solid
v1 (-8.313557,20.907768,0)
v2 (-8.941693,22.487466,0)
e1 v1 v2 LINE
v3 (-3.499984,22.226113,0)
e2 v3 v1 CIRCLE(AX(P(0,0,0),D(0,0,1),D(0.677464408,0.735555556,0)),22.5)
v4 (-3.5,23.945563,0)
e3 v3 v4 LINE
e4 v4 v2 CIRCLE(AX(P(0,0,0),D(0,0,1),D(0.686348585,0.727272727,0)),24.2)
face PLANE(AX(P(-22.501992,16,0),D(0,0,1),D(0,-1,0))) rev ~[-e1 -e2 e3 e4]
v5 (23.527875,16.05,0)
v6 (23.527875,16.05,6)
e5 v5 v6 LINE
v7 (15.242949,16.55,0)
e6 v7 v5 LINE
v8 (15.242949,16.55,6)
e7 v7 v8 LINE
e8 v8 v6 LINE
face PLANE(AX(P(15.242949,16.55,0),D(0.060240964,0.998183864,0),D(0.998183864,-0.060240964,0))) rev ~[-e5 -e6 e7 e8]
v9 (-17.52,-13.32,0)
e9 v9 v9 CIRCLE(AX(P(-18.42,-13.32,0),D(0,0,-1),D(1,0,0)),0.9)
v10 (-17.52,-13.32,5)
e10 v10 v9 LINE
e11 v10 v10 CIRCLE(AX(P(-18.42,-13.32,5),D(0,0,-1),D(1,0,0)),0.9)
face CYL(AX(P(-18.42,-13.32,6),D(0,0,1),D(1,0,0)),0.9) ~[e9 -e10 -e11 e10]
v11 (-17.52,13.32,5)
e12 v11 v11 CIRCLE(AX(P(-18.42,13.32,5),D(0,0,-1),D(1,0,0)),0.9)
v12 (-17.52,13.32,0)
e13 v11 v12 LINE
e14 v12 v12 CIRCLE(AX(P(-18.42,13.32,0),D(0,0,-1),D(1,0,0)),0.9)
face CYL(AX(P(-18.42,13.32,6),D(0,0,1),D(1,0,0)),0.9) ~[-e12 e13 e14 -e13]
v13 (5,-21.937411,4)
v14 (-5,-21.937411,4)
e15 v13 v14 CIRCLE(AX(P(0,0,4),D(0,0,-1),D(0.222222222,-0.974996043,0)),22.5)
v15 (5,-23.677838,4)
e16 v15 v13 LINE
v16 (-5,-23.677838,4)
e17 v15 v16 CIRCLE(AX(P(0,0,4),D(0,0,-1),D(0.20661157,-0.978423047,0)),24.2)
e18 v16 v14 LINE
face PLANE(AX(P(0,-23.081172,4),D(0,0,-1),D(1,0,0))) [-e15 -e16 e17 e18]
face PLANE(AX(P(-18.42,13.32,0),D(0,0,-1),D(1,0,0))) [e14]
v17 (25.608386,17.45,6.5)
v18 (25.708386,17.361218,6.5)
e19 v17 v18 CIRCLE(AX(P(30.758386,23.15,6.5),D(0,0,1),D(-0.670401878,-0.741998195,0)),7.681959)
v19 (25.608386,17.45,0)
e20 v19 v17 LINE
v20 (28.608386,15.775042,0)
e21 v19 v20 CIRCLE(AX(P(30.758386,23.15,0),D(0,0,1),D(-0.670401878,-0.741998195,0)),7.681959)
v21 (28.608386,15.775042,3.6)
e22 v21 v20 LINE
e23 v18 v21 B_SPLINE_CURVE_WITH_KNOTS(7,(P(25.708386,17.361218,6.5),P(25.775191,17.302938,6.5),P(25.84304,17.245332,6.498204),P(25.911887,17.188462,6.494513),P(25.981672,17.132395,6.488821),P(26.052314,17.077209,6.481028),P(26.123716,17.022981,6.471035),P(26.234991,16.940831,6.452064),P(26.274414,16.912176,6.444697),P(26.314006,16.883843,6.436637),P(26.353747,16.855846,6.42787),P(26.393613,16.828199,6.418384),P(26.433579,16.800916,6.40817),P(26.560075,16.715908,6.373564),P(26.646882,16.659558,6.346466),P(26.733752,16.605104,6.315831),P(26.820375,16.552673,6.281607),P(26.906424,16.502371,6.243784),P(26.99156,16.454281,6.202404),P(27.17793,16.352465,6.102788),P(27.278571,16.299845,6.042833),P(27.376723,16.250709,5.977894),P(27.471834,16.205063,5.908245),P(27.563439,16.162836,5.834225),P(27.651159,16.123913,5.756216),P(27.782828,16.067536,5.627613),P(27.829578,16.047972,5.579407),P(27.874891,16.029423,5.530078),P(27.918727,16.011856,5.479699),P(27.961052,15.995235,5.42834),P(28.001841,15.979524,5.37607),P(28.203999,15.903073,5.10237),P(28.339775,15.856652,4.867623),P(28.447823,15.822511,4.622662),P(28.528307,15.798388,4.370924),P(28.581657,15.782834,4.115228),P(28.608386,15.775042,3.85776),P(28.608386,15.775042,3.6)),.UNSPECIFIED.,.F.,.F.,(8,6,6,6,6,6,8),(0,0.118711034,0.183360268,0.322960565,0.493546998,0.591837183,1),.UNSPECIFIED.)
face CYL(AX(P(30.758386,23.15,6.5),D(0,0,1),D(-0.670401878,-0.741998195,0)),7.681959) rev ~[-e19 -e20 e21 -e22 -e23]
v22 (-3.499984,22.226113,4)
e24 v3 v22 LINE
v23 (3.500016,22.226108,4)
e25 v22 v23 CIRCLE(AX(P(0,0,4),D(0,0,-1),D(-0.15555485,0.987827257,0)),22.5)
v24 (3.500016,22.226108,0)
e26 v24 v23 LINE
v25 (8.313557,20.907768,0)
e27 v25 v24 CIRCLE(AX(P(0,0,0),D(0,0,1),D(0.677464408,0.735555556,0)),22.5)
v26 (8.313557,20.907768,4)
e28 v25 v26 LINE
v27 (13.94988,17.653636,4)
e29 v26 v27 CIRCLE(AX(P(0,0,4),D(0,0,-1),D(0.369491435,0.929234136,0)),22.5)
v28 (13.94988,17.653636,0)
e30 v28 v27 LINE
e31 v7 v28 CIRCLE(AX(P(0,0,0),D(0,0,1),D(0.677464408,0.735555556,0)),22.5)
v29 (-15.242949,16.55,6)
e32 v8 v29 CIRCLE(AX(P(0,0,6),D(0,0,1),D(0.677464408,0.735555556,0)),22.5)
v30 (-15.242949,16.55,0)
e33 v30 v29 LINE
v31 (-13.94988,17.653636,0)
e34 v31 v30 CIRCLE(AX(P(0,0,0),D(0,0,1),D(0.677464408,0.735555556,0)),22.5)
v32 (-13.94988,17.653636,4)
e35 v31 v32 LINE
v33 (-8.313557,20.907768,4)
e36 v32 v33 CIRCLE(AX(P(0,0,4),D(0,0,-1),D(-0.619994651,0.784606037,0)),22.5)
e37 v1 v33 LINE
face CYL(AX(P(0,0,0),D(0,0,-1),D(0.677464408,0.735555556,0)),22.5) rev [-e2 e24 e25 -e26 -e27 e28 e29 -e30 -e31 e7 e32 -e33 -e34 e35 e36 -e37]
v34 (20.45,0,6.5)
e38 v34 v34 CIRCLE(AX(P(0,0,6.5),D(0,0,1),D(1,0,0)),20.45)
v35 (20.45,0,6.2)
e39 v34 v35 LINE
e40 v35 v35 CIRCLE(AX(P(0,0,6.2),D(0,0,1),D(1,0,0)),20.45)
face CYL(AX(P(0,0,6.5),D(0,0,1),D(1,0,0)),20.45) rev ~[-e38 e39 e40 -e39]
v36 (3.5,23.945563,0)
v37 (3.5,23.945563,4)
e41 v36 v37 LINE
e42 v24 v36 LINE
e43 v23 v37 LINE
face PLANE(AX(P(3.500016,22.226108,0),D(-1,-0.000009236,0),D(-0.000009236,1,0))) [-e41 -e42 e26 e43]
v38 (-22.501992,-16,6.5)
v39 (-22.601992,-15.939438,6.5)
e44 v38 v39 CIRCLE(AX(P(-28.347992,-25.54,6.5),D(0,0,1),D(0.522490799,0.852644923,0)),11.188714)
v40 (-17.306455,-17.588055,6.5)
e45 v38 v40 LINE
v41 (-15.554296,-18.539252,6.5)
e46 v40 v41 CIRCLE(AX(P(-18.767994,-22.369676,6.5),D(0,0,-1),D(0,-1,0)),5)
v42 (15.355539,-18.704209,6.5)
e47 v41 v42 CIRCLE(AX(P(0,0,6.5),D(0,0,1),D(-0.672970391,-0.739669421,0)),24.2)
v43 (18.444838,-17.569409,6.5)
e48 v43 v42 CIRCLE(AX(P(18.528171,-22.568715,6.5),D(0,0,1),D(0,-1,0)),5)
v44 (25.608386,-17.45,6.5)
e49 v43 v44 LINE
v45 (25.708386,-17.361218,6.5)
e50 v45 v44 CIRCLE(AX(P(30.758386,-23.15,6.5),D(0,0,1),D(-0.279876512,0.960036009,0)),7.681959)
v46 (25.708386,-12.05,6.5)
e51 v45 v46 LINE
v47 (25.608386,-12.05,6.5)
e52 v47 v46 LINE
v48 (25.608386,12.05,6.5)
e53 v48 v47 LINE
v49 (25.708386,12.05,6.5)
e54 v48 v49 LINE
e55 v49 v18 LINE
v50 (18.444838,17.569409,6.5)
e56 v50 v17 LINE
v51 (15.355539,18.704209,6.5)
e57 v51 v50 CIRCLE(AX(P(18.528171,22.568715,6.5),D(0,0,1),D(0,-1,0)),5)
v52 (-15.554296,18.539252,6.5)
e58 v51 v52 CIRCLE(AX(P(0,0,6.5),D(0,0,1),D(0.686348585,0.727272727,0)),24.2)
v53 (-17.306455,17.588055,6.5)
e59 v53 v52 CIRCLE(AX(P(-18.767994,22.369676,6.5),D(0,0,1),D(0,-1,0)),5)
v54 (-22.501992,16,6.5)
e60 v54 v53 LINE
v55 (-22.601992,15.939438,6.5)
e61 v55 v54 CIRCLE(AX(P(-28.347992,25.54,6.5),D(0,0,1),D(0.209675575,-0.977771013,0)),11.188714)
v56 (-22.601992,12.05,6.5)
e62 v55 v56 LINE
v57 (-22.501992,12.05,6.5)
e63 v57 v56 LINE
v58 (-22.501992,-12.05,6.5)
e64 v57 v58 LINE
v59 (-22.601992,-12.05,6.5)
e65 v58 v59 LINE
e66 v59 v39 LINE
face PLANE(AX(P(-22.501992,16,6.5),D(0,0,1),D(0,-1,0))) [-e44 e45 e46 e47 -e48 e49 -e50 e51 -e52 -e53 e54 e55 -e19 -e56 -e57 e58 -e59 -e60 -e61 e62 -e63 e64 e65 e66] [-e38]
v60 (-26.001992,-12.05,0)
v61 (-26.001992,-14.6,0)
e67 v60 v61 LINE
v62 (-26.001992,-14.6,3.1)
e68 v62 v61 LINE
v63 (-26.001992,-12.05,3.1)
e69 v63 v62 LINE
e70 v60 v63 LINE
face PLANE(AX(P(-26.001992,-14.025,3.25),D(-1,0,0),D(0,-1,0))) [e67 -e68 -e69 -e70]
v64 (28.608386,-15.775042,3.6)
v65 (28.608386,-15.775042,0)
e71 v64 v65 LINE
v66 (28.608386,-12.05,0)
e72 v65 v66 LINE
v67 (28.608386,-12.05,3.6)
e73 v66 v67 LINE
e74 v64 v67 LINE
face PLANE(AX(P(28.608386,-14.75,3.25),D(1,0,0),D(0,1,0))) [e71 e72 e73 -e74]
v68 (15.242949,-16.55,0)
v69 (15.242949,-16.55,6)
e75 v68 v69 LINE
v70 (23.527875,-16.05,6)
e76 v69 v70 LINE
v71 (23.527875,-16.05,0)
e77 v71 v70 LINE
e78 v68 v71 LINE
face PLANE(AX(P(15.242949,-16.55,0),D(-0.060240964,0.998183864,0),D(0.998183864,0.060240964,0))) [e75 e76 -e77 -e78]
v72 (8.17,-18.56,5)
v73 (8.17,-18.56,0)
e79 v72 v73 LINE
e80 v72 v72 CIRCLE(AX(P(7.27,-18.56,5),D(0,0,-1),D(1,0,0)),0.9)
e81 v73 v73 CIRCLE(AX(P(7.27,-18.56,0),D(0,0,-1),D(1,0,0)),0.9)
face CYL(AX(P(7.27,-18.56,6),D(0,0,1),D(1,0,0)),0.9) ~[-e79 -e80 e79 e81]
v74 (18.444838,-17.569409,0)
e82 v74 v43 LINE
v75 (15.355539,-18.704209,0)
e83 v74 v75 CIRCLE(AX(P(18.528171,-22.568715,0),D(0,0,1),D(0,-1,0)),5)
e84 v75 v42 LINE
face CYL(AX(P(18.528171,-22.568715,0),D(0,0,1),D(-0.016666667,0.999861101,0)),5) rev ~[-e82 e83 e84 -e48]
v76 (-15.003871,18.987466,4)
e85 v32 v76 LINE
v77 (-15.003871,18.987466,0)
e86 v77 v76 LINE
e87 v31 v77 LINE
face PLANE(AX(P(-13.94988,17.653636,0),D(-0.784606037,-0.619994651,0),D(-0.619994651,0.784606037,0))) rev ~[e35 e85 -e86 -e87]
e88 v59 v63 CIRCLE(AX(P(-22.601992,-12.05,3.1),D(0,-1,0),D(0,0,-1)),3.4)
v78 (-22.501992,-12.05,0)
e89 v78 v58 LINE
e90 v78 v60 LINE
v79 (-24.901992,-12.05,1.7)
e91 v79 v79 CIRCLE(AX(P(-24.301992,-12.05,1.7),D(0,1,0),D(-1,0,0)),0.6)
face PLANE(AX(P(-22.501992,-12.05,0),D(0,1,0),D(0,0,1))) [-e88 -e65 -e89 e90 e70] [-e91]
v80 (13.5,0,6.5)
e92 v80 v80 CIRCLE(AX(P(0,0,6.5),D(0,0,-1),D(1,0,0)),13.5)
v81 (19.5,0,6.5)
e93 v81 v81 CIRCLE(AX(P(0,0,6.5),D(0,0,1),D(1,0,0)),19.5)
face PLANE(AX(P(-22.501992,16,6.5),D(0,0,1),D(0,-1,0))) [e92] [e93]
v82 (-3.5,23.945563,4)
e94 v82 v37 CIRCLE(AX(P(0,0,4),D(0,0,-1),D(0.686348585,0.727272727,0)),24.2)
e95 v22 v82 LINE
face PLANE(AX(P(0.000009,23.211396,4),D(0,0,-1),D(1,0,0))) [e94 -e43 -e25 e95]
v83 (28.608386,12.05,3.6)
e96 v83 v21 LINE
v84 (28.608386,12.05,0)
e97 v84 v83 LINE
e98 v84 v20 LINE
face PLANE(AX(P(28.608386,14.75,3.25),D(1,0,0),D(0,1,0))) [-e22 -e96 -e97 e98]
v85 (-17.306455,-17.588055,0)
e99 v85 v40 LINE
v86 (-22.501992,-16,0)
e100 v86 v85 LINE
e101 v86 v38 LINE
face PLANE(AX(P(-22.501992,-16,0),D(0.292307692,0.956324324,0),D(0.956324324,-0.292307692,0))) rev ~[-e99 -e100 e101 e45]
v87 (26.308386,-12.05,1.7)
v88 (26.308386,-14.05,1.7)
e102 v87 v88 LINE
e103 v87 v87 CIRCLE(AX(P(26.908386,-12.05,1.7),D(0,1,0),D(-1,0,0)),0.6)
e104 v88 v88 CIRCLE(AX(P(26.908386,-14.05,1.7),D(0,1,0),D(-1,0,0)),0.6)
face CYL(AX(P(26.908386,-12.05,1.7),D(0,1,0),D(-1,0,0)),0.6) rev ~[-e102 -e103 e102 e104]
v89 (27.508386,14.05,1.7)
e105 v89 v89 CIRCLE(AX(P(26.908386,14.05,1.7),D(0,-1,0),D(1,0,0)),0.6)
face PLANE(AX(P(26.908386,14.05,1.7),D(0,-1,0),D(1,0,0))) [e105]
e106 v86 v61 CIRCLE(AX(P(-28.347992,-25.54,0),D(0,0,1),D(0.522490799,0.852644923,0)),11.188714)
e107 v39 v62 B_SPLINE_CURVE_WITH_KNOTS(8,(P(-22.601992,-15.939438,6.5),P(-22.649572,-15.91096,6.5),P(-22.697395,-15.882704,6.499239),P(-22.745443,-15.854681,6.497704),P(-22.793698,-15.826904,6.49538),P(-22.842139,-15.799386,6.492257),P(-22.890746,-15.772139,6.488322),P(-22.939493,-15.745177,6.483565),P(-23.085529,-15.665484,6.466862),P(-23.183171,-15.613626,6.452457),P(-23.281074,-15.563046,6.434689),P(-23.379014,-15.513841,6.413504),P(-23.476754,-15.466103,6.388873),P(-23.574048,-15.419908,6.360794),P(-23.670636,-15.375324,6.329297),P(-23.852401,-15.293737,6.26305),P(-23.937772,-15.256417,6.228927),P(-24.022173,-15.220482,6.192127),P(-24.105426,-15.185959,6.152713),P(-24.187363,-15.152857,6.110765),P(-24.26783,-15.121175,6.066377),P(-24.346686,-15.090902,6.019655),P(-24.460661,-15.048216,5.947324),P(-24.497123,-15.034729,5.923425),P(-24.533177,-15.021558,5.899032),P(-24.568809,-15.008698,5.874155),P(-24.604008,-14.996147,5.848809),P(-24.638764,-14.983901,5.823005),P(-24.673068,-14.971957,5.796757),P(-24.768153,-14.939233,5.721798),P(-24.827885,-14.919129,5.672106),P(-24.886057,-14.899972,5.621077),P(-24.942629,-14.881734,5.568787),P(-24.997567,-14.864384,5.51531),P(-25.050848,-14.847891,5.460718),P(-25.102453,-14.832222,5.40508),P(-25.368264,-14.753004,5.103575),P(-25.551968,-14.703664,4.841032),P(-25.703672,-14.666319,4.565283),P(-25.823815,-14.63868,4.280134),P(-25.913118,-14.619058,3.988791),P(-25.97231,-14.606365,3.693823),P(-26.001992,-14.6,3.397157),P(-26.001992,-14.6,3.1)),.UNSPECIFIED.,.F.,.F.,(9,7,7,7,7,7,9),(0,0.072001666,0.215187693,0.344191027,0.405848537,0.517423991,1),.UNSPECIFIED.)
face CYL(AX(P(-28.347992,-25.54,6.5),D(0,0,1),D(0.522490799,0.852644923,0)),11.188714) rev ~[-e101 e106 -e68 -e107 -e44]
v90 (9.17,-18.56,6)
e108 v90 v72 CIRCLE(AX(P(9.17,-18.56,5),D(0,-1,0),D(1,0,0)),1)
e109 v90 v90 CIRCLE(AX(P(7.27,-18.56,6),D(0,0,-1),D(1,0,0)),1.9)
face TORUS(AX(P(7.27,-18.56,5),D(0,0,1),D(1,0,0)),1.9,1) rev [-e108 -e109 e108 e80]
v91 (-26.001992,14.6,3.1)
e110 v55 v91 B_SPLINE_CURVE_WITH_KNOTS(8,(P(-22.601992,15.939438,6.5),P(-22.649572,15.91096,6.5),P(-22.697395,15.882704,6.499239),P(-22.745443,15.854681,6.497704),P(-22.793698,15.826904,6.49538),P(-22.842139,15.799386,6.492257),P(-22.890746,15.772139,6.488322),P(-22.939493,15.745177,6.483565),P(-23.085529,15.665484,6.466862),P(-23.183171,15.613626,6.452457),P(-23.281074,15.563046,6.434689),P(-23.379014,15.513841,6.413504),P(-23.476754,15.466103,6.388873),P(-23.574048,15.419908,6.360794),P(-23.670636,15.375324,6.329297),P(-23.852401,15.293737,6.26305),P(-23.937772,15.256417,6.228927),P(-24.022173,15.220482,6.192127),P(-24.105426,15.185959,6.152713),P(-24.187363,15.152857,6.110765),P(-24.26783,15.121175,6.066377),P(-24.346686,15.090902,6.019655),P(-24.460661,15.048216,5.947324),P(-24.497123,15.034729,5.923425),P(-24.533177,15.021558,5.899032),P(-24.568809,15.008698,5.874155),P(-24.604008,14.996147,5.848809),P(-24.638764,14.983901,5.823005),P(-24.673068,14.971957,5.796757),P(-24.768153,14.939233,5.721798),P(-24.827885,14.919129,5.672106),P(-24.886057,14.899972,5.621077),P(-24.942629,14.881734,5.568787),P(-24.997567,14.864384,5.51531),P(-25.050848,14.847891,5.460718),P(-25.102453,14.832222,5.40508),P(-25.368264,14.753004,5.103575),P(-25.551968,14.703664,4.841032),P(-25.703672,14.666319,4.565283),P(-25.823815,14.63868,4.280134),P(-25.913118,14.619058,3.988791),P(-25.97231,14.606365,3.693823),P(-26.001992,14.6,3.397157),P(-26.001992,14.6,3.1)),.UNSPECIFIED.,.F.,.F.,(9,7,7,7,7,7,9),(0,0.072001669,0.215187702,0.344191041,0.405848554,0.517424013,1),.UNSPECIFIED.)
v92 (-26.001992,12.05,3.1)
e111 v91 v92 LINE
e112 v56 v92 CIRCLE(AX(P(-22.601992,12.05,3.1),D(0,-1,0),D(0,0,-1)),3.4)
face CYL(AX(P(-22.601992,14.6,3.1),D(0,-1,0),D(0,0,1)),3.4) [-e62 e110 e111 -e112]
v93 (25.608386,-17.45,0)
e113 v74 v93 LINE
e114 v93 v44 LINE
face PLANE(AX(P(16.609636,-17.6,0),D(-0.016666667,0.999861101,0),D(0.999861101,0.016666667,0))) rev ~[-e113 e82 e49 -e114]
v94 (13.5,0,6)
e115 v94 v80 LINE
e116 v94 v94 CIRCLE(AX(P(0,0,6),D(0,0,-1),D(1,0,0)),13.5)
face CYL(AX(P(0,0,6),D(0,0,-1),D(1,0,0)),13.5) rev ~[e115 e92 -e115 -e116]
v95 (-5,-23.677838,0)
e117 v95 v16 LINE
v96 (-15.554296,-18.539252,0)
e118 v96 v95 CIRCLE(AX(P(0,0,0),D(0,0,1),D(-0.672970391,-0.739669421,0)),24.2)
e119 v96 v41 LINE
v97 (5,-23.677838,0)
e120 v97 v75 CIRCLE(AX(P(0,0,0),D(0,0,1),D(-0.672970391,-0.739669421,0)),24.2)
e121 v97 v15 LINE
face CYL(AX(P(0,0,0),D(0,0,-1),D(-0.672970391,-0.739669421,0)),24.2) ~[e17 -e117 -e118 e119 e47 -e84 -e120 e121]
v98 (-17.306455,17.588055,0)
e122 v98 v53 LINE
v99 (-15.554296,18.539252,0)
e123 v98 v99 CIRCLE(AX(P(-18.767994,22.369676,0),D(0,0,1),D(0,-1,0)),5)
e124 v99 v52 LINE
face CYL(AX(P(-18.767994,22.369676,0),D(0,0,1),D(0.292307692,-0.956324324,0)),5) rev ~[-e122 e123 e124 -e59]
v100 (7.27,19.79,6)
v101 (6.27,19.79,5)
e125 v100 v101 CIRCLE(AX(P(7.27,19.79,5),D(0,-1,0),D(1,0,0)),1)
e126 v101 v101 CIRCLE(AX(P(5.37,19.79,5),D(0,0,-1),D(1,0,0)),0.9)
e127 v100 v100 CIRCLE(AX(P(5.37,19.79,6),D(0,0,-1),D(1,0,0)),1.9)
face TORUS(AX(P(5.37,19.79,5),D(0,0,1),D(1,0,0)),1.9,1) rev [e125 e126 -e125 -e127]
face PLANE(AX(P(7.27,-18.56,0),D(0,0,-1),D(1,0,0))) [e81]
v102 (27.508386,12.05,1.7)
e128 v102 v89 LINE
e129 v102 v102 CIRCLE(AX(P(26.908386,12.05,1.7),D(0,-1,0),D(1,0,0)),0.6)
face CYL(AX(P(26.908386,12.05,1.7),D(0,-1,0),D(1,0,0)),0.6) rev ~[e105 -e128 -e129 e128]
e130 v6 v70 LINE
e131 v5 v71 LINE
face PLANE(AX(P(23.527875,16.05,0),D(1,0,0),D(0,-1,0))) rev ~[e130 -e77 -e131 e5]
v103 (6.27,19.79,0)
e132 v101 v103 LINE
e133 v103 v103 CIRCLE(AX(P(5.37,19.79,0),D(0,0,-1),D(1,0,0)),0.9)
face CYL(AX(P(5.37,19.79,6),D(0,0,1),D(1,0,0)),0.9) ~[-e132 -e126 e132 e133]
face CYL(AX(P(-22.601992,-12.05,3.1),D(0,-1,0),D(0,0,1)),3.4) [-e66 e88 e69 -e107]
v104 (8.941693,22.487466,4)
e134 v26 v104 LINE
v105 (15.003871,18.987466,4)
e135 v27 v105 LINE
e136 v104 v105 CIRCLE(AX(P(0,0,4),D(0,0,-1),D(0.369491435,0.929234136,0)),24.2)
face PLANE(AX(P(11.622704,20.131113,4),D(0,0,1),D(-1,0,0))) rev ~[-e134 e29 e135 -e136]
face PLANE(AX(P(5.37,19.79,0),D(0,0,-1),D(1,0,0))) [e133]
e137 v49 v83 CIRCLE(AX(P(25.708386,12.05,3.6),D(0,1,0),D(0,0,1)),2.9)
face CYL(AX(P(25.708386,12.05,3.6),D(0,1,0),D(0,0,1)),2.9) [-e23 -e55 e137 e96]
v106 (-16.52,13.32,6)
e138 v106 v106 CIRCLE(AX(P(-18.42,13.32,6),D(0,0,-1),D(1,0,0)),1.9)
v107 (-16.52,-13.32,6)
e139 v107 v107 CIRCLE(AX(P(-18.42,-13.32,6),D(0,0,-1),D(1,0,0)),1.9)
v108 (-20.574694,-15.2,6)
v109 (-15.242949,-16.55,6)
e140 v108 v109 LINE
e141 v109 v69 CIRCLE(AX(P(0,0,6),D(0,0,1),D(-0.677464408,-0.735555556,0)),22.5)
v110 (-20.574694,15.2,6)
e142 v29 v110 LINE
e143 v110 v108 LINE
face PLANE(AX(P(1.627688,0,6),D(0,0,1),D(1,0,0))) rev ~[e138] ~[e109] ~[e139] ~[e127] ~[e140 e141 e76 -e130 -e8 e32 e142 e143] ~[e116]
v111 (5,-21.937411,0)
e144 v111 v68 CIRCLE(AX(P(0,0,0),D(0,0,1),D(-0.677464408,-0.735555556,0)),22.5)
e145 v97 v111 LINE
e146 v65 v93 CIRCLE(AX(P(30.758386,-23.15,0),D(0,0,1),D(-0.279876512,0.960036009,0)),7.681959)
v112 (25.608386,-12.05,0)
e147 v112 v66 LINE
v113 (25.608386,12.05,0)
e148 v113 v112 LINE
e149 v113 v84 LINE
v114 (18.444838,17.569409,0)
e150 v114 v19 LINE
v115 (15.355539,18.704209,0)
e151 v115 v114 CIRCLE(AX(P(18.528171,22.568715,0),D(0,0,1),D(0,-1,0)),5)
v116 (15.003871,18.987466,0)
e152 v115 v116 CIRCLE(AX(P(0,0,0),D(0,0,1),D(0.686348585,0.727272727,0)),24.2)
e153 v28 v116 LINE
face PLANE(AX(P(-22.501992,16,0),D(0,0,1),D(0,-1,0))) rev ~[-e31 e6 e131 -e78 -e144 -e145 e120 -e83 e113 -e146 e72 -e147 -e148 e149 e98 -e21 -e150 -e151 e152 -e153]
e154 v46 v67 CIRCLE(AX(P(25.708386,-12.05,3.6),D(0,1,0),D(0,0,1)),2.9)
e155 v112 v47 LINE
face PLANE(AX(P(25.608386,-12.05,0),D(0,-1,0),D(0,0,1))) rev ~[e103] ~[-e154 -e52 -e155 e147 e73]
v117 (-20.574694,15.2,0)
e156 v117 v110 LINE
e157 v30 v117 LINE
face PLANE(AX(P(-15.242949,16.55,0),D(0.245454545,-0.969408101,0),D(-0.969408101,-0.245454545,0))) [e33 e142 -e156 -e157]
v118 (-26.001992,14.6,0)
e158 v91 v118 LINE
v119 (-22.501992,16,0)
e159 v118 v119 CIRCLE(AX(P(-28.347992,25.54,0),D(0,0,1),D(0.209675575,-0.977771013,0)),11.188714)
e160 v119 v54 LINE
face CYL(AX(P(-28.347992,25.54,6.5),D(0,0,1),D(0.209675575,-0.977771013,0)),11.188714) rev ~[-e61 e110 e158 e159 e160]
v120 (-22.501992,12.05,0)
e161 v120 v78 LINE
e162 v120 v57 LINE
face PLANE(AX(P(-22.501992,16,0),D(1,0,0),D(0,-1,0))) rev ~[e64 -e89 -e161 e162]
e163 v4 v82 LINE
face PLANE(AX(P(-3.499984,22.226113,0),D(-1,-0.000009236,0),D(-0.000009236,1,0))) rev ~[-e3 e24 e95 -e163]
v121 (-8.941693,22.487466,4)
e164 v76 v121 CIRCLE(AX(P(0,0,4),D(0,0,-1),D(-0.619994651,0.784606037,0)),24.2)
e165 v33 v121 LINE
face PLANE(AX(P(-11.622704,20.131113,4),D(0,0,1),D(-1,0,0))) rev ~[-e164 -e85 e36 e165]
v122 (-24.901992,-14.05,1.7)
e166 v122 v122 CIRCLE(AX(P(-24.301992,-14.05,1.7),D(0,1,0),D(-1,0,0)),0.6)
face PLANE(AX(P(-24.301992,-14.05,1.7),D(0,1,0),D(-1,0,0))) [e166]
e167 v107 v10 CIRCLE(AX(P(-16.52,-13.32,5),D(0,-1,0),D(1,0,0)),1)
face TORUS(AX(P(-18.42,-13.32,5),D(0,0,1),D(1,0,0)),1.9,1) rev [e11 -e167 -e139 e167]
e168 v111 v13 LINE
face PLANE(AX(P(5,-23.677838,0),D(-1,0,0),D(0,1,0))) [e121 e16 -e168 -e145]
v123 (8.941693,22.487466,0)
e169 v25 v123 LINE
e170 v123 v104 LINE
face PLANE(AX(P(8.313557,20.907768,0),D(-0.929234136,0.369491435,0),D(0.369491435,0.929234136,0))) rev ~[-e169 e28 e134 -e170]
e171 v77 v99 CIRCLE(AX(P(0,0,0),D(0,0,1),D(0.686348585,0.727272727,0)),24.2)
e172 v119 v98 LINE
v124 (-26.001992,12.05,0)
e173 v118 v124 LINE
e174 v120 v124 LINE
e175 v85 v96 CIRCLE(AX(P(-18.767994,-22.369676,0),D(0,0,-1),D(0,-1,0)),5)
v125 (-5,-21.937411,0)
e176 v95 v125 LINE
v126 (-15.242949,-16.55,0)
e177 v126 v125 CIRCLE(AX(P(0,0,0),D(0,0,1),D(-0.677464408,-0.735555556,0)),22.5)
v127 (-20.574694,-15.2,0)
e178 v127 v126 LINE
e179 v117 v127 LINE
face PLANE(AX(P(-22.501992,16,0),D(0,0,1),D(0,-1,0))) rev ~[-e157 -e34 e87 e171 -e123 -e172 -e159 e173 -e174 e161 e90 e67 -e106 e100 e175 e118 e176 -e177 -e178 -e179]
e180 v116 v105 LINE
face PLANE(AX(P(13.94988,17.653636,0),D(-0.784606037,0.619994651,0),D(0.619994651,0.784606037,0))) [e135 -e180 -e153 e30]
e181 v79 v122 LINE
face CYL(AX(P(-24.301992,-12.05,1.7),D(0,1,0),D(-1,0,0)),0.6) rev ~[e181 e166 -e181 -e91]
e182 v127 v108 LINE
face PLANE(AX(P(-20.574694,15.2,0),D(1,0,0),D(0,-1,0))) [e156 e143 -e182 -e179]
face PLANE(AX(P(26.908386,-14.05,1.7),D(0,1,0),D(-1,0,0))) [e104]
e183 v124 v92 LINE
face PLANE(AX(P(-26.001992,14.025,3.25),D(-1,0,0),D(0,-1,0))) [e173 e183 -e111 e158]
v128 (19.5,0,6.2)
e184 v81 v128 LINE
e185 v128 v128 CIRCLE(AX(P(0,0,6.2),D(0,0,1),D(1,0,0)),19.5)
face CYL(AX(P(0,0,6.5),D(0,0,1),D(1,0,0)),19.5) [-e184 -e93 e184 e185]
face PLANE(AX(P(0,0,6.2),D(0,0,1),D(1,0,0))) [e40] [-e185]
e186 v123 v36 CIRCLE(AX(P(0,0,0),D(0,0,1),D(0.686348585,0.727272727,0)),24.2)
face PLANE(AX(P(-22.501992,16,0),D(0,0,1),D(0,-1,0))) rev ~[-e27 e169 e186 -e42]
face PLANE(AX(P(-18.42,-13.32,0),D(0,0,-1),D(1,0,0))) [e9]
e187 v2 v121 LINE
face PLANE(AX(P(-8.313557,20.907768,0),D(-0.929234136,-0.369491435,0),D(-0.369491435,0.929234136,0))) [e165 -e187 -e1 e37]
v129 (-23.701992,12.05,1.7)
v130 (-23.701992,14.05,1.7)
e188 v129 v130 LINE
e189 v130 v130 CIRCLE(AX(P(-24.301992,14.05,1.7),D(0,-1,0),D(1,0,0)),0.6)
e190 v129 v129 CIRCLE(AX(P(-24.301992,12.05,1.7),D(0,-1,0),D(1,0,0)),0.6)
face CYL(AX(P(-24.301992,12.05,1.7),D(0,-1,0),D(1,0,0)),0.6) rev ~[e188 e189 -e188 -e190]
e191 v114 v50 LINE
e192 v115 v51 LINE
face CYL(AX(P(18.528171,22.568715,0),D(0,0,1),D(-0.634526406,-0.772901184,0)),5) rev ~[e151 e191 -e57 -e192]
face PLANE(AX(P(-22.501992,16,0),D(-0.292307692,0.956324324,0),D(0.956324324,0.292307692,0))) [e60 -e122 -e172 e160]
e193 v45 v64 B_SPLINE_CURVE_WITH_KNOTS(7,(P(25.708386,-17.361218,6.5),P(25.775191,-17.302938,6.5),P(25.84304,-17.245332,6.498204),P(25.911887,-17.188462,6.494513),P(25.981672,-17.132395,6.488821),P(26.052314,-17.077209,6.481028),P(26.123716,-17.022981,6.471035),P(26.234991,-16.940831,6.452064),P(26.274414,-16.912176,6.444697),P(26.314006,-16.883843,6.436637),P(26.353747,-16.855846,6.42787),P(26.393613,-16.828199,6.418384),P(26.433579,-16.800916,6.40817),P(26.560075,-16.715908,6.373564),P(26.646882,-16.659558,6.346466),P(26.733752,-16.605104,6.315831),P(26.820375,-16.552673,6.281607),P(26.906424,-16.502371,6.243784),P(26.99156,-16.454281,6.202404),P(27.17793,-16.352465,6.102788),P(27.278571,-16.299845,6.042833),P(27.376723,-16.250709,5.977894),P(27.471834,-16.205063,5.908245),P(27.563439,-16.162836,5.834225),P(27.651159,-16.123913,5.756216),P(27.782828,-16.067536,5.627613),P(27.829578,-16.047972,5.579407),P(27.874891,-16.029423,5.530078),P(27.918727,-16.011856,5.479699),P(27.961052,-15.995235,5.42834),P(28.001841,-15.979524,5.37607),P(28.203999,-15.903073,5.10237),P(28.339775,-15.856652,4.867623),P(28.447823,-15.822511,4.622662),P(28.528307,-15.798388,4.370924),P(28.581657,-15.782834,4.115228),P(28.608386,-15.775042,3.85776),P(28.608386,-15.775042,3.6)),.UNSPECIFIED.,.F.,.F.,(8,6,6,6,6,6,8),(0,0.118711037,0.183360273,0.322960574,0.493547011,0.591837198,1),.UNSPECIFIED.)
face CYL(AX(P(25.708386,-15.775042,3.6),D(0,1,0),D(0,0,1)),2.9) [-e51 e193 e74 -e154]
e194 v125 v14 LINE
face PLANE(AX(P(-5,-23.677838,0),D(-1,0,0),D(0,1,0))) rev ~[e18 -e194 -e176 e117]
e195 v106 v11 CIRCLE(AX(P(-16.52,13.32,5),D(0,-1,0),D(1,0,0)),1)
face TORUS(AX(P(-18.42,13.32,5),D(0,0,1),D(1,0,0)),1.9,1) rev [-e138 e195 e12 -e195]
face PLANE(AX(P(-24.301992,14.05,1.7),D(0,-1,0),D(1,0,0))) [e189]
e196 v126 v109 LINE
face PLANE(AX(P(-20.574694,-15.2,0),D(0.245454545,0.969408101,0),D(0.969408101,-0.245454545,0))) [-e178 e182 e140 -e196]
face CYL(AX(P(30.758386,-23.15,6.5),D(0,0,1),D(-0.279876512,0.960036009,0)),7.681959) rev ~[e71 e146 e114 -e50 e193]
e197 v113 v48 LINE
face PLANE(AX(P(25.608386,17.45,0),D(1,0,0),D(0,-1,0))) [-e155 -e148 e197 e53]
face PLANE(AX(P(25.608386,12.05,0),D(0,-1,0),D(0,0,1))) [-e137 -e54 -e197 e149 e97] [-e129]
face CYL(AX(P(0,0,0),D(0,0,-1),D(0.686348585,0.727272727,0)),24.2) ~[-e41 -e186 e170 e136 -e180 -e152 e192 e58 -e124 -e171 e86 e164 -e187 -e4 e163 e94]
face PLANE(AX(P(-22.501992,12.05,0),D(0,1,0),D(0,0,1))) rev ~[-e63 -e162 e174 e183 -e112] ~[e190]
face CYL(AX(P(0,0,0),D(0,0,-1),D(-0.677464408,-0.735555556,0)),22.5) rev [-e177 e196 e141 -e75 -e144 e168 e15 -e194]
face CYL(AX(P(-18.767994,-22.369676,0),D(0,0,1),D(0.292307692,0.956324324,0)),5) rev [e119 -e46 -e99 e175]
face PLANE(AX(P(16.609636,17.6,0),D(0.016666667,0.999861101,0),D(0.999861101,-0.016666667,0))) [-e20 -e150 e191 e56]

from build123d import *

# Parameters (mm, degrees)
PAD_DEPTH       = 6.5
POCKET_DEPTH    = 6
SKETCH002_R     = 13.5
POCKET001_DEPTH = 1
SKETCH003_W     = 5.4
SKETCH003_H     = 6.5
PAD001_DEPTH    = 3
POCKET002_DEPTH = 10
SKETCH008_R     = 0.6
POCKET003_DEPTH = 2
SKETCH009_R     = 0.6
POCKET004_DEPTH = 2
FILLET_R        = 2.9
FILLET001_R     = 2.9
FILLET002_R     = 5
FILLET003_R     = 5
FILLET004_R     = 5
FILLET005_R     = 5
SKETCH010_W     = 3.95
SKETCH010_H     = 6.5
PAD002_DEPTH    = 3.5
POCKET005_DEPTH = 10
SKETCH012_R     = 0.6
POCKET006_DEPTH = 2
SKETCH013_R     = 0.6
POCKET007_DEPTH = 2
FILLET006_R     = 3.4
FILLET007_R     = 3.4
SKETCH014_R     = 20.45
SKETCH014_R_2   = 19.5
POCKET008_DEPTH = 0.3
SKETCH015_R     = 0.9
PAD003_DEPTH    = 6
FILLET008_R     = 1
POCKET009_DEPTH = 4
POCKET010_DEPTH = 4


with BuildPart() as part:
    # Sketch → Pad (new body)
    with BuildSketch(Plane.XY):
        with BuildLine():
            Line((-22.5019915649, 16), (-22.5019915649, -16))
            Line((-22.5019915649, -16), (-16.2858834578, -17.9))
            ThreePointArc((-16.2858834578, -17.9), (0.2206895736, -24.1989937004), (16.6096357576, -17.6))
            Line((16.6096357576, -17.6), (25.6083856708, -17.45))
            Line((25.6083856708, 17.45), (25.6083856708, -17.45))
            Line((16.6096357576, 17.6), (25.6083856708, 17.45))
            ThreePointArc((16.6096357576, 17.6), (0.2206895736, 24.1989937004), (-16.2858834578, 17.9))
            Line((-22.5019915649, 16), (-16.2858834578, 17.9))
        make_face()
    extrude(amount=PAD_DEPTH)

    # Sketch001 → Pocket (cut)
    with BuildSketch(Plane.XY):
        with BuildLine():
            Line((-15.2429491897, 16.55), (-20.5746937447, 15.2))
            Line((-20.5746937447, 15.2), (-20.5746937447, -15.2))
            Line((-20.5746937447, -15.2), (-15.2429491897, -16.55))
            ThreePointArc((-15.2429491897, -16.55), (0, -22.5), (15.2429491897, -16.55))
            Line((15.2429491897, -16.55), (23.5278752606, -16.05))
            Line((23.5278752606, 16.05), (23.5278752606, -16.05))
            Line((15.2429491897, 16.55), (23.5278752606, 16.05))
            ThreePointArc((15.2429491897, 16.55), (0, 22.5), (-15.2429491897, 16.55))
        make_face()
    extrude(amount=POCKET_DEPTH, mode=Mode.SUBTRACT)

    # Sketch002 (on Face19 of Pocket) → Pocket001 (cut)
    with BuildSketch(Plane(origin=(0, 0, 6), x_dir=(1, 0, 0), z_dir=(0, 0, -1))):
        Circle(SKETCH002_R)
    extrude(amount=-POCKET001_DEPTH, mode=Mode.SUBTRACT)

    # Sketch003 (on Face6 of Pocket001) → Pad001 (join)
    with BuildSketch(Plane.YZ.offset(25.6083856708)):
        with Locations((-14.75, 3.25)):
            Rectangle(SKETCH003_W, SKETCH003_H)
        with Locations((14.75, 3.25)):
            Rectangle(SKETCH003_W, SKETCH003_H)
    extrude(amount=PAD001_DEPTH)

    # Sketch006 → Pocket002 (cut)
    with BuildSketch(Plane.XY.offset(6.5)):
        with BuildLine():
            ThreePointArc((25.6083856708, 17.45), (27.0135397777, 16.4426436477), (28.6083856708, 15.775042373))
            Line((28.6083856708, 17.45), (28.6083856708, 15.775042373))
            Line((28.6083856708, 17.45), (25.6083856708, 17.45))
        make_face()
        with BuildLine():
            ThreePointArc((28.6083856708, -15.775042373), (27.0135397777, -16.4426436477), (25.6083856708, -17.45))
            Line((28.6083856708, -17.45), (25.6083856708, -17.45))
            Line((28.6083856708, -15.775042373), (28.6083856708, -17.45))
        make_face()
    extrude(amount=-POCKET002_DEPTH, mode=Mode.SUBTRACT)

    # Sketch008 (on Face27 of Pocket002) → Pocket003 (cut)
    with BuildSketch(Plane(origin=(0, -12.05, 0), x_dir=(-1, 0, 0), z_dir=(0, 1, 0))):
        with Locations((-26.9083856708, 1.7)):
            Circle(SKETCH008_R)
    extrude(amount=-POCKET003_DEPTH, mode=Mode.SUBTRACT)

    # Sketch009 (on Face26 of Pocket003) → Pocket004 (cut)
    with BuildSketch(Plane.XZ.offset(-12.05)):
        with Locations((26.9083856708, 1.7)):
            Circle(SKETCH009_R)
    extrude(amount=-POCKET004_DEPTH, mode=Mode.SUBTRACT)

    # Fillet
    fillet_edges = [part.edges().sort_by_distance(p)[0] for p in [
        (28.608386, -13.912521, 6.5),
    ]]
    fillet(fillet_edges, radius=FILLET_R)

    # Fillet001
    fillet001_edges = [part.edges().sort_by_distance(p)[0] for p in [
        (28.608386, 13.912521, 6.5),
    ]]
    fillet(fillet001_edges, radius=FILLET001_R)

    # Fillet002
    fillet002_edges = [part.edges().sort_by_distance(p)[0] for p in [
        (16.609636, -17.6, 3.25),
    ]]
    fillet(fillet002_edges, radius=FILLET002_R)

    # Fillet003
    fillet003_edges = [part.edges().sort_by_distance(p)[0] for p in [
        (16.609636, 17.6, 3.25),
    ]]
    fillet(fillet003_edges, radius=FILLET003_R)

    # Fillet004
    fillet004_edges = [part.edges().sort_by_distance(p)[0] for p in [
        (-16.285883, -17.9, 3.25),
    ]]
    fillet(fillet004_edges, radius=FILLET004_R)

    # Fillet005
    fillet005_edges = [part.edges().sort_by_distance(p)[0] for p in [
        (-16.285883, 17.9, 3.25),
    ]]
    fillet(fillet005_edges, radius=FILLET005_R)

    # Sketch010 (on Face4 of Fillet005) → Pad002 (join)
    with BuildSketch(Plane(origin=(-22.5019915649, 0, 0), x_dir=(0, -1, 0), z_dir=(-1, 0, 0))):
        with Locations((-14.025, 3.25)):
            Rectangle(SKETCH010_W, SKETCH010_H)
        with Locations((14.025, 3.25)):
            Rectangle(SKETCH010_W, SKETCH010_H)
    extrude(amount=PAD002_DEPTH)

    # Sketch011 (on Face6 of Pad002) → Pocket005 (cut)
    with BuildSketch(Plane.XY.offset(6.5)):
        with BuildLine():
            ThreePointArc((-26.0019915649, 14.6), (-24.1926075875, 15.1515400564), (-22.5019915649, 16))
            Line((-22.5019915649, 16), (-26.0019915649, 16))
            Line((-26.0019915649, 16), (-26.0019915649, 14.6))
        make_face()
        with BuildLine():
            ThreePointArc((-22.5019915649, -16), (-24.1926075875, -15.1515400564), (-26.0019915649, -14.6))
            Line((-26.0019915649, -14.6), (-26.0019915649, -16))
            Line((-26.0019915649, -16), (-22.5019915649, -16))
        make_face()
    extrude(amount=-POCKET005_DEPTH, mode=Mode.SUBTRACT)

    # Sketch012 (on Face23 of Pocket005) → Pocket006 (cut)
    with BuildSketch(Plane(origin=(0, -12.05, 0), x_dir=(-1, 0, 0), z_dir=(0, 1, 0))):
        with Locations((24.3019915649, 1.7)):
            Circle(SKETCH012_R)
    extrude(amount=-POCKET006_DEPTH, mode=Mode.SUBTRACT)

    # Sketch013 (on Face21 of Pocket006) → Pocket007 (cut)
    with BuildSketch(Plane.XZ.offset(-12.05)):
        with Locations((-24.3019915649, 1.7)):
            Circle(SKETCH013_R)
    extrude(amount=-POCKET007_DEPTH, mode=Mode.SUBTRACT)

    # Fillet006
    fillet006_edges = [part.edges().sort_by_distance(p)[0] for p in [
        (-26.001992, 13.325, 6.5),
    ]]
    fillet(fillet006_edges, radius=FILLET006_R)

    # Fillet007
    fillet007_edges = [part.edges().sort_by_distance(p)[0] for p in [
        (-26.001992, -13.325, 6.5),
    ]]
    fillet(fillet007_edges, radius=FILLET007_R)

    # Sketch014 (on Face4 of Fillet007) → Pocket008 (cut)
    with BuildSketch(Plane.XY.offset(6.5)):
        Circle(SKETCH014_R)
        Circle(SKETCH014_R_2, mode=Mode.SUBTRACT)
    extrude(amount=-POCKET008_DEPTH, mode=Mode.SUBTRACT)

    # Sketch015 (on Face55 of Pocket008) → Pad003 (join)
    with BuildSketch(Plane(origin=(0, 0, 6), x_dir=(1, 0, 0), z_dir=(0, 0, -1))):
        with Locations((-18.42, 13.32)):
            Circle(SKETCH015_R)
        with Locations((-18.42, -13.32)):
            Circle(SKETCH015_R)
        with Locations((7.27, 18.56)):
            Circle(SKETCH015_R)
        with Locations((5.37, -19.79)):
            Circle(SKETCH015_R)
    extrude(amount=PAD003_DEPTH)

    # Fillet008
    fillet008_edges = [part.edges().sort_by_distance(p)[0] for p in [
        (-19.32, -13.32, 6),
        (6.37, -18.56, 6),
        (-19.32, 13.32, 6),
        (4.47, 19.79, 6),
    ]]
    fillet(fillet008_edges, radius=FILLET008_R)

    # Sketch016 (on Face16 of Fillet008) → Pocket009 (cut)
    with BuildSketch(Plane(origin=(0, 0, 0), x_dir=(1, 0, 0), z_dir=(0, 0, -1))):
        with BuildLine():
            Line((-5, 23.6778377391), (-5, 21.9374109685))
            ThreePointArc((5, 21.9374109685), (0, 22.5), (-5, 21.9374109685))
            Line((5, 23.6778377391), (5, 21.9374109685))
            ThreePointArc((5, 23.6778377391), (0, 24.2), (-5, 23.6778377391))
        make_face()
    extrude(amount=-POCKET009_DEPTH, mode=Mode.SUBTRACT)

    # Sketch017 (on Face16 of Pocket009) → Pocket010 (cut)
    with BuildSketch(Plane(origin=(0, 0, 0), x_dir=(1, 0, 0), z_dir=(0, 0, -1))):
        with BuildLine():
            Line((-3.499984119, -22.2261132717), (-3.5, -23.9455632634))
            ThreePointArc((-3.5, -23.9455632634), (0, -24.2000019575), (3.5, -23.9455632634))
            Line((3.5000158811, -22.2261082701), (3.5, -23.9455632634))
            ThreePointArc((-3.499984119, -22.2261132717), (1.60767e-05, -22.5), (3.5000158811, -22.2261082701))
        make_face()
        with BuildLine():
            ThreePointArc((-13.9498796389, -17.6536358312), (-11.25, -19.4855715851), (-8.3135572795, -20.9077680626))
            Line((-8.3135572795, -20.9077680626), (-8.9416927184, -22.487466094))
            ThreePointArc((-15.0038705449, -18.987466094), (-12.1, -20.9578147716), (-8.9416927184, -22.487466094))
            Line((-13.9498796389, -17.6536358312), (-15.0038705449, -18.987466094))
        make_face()
        with BuildLine():
            ThreePointArc((8.3135572795, -20.9077680626), (11.25, -19.4855715851), (13.9498796389, -17.6536358312))
            Line((13.9498796389, -17.6536358312), (15.0038705449, -18.987466094))
            ThreePointArc((8.9416927184, -22.487466094), (12.1, -20.9578147716), (15.0038705449, -18.987466094))
            Line((8.3135572795, -20.9077680626), (8.9416927184, -22.487466094))
        make_face()
    extrude(amount=-POCKET010_DEPTH, mode=Mode.SUBTRACT)


solid = part.part
